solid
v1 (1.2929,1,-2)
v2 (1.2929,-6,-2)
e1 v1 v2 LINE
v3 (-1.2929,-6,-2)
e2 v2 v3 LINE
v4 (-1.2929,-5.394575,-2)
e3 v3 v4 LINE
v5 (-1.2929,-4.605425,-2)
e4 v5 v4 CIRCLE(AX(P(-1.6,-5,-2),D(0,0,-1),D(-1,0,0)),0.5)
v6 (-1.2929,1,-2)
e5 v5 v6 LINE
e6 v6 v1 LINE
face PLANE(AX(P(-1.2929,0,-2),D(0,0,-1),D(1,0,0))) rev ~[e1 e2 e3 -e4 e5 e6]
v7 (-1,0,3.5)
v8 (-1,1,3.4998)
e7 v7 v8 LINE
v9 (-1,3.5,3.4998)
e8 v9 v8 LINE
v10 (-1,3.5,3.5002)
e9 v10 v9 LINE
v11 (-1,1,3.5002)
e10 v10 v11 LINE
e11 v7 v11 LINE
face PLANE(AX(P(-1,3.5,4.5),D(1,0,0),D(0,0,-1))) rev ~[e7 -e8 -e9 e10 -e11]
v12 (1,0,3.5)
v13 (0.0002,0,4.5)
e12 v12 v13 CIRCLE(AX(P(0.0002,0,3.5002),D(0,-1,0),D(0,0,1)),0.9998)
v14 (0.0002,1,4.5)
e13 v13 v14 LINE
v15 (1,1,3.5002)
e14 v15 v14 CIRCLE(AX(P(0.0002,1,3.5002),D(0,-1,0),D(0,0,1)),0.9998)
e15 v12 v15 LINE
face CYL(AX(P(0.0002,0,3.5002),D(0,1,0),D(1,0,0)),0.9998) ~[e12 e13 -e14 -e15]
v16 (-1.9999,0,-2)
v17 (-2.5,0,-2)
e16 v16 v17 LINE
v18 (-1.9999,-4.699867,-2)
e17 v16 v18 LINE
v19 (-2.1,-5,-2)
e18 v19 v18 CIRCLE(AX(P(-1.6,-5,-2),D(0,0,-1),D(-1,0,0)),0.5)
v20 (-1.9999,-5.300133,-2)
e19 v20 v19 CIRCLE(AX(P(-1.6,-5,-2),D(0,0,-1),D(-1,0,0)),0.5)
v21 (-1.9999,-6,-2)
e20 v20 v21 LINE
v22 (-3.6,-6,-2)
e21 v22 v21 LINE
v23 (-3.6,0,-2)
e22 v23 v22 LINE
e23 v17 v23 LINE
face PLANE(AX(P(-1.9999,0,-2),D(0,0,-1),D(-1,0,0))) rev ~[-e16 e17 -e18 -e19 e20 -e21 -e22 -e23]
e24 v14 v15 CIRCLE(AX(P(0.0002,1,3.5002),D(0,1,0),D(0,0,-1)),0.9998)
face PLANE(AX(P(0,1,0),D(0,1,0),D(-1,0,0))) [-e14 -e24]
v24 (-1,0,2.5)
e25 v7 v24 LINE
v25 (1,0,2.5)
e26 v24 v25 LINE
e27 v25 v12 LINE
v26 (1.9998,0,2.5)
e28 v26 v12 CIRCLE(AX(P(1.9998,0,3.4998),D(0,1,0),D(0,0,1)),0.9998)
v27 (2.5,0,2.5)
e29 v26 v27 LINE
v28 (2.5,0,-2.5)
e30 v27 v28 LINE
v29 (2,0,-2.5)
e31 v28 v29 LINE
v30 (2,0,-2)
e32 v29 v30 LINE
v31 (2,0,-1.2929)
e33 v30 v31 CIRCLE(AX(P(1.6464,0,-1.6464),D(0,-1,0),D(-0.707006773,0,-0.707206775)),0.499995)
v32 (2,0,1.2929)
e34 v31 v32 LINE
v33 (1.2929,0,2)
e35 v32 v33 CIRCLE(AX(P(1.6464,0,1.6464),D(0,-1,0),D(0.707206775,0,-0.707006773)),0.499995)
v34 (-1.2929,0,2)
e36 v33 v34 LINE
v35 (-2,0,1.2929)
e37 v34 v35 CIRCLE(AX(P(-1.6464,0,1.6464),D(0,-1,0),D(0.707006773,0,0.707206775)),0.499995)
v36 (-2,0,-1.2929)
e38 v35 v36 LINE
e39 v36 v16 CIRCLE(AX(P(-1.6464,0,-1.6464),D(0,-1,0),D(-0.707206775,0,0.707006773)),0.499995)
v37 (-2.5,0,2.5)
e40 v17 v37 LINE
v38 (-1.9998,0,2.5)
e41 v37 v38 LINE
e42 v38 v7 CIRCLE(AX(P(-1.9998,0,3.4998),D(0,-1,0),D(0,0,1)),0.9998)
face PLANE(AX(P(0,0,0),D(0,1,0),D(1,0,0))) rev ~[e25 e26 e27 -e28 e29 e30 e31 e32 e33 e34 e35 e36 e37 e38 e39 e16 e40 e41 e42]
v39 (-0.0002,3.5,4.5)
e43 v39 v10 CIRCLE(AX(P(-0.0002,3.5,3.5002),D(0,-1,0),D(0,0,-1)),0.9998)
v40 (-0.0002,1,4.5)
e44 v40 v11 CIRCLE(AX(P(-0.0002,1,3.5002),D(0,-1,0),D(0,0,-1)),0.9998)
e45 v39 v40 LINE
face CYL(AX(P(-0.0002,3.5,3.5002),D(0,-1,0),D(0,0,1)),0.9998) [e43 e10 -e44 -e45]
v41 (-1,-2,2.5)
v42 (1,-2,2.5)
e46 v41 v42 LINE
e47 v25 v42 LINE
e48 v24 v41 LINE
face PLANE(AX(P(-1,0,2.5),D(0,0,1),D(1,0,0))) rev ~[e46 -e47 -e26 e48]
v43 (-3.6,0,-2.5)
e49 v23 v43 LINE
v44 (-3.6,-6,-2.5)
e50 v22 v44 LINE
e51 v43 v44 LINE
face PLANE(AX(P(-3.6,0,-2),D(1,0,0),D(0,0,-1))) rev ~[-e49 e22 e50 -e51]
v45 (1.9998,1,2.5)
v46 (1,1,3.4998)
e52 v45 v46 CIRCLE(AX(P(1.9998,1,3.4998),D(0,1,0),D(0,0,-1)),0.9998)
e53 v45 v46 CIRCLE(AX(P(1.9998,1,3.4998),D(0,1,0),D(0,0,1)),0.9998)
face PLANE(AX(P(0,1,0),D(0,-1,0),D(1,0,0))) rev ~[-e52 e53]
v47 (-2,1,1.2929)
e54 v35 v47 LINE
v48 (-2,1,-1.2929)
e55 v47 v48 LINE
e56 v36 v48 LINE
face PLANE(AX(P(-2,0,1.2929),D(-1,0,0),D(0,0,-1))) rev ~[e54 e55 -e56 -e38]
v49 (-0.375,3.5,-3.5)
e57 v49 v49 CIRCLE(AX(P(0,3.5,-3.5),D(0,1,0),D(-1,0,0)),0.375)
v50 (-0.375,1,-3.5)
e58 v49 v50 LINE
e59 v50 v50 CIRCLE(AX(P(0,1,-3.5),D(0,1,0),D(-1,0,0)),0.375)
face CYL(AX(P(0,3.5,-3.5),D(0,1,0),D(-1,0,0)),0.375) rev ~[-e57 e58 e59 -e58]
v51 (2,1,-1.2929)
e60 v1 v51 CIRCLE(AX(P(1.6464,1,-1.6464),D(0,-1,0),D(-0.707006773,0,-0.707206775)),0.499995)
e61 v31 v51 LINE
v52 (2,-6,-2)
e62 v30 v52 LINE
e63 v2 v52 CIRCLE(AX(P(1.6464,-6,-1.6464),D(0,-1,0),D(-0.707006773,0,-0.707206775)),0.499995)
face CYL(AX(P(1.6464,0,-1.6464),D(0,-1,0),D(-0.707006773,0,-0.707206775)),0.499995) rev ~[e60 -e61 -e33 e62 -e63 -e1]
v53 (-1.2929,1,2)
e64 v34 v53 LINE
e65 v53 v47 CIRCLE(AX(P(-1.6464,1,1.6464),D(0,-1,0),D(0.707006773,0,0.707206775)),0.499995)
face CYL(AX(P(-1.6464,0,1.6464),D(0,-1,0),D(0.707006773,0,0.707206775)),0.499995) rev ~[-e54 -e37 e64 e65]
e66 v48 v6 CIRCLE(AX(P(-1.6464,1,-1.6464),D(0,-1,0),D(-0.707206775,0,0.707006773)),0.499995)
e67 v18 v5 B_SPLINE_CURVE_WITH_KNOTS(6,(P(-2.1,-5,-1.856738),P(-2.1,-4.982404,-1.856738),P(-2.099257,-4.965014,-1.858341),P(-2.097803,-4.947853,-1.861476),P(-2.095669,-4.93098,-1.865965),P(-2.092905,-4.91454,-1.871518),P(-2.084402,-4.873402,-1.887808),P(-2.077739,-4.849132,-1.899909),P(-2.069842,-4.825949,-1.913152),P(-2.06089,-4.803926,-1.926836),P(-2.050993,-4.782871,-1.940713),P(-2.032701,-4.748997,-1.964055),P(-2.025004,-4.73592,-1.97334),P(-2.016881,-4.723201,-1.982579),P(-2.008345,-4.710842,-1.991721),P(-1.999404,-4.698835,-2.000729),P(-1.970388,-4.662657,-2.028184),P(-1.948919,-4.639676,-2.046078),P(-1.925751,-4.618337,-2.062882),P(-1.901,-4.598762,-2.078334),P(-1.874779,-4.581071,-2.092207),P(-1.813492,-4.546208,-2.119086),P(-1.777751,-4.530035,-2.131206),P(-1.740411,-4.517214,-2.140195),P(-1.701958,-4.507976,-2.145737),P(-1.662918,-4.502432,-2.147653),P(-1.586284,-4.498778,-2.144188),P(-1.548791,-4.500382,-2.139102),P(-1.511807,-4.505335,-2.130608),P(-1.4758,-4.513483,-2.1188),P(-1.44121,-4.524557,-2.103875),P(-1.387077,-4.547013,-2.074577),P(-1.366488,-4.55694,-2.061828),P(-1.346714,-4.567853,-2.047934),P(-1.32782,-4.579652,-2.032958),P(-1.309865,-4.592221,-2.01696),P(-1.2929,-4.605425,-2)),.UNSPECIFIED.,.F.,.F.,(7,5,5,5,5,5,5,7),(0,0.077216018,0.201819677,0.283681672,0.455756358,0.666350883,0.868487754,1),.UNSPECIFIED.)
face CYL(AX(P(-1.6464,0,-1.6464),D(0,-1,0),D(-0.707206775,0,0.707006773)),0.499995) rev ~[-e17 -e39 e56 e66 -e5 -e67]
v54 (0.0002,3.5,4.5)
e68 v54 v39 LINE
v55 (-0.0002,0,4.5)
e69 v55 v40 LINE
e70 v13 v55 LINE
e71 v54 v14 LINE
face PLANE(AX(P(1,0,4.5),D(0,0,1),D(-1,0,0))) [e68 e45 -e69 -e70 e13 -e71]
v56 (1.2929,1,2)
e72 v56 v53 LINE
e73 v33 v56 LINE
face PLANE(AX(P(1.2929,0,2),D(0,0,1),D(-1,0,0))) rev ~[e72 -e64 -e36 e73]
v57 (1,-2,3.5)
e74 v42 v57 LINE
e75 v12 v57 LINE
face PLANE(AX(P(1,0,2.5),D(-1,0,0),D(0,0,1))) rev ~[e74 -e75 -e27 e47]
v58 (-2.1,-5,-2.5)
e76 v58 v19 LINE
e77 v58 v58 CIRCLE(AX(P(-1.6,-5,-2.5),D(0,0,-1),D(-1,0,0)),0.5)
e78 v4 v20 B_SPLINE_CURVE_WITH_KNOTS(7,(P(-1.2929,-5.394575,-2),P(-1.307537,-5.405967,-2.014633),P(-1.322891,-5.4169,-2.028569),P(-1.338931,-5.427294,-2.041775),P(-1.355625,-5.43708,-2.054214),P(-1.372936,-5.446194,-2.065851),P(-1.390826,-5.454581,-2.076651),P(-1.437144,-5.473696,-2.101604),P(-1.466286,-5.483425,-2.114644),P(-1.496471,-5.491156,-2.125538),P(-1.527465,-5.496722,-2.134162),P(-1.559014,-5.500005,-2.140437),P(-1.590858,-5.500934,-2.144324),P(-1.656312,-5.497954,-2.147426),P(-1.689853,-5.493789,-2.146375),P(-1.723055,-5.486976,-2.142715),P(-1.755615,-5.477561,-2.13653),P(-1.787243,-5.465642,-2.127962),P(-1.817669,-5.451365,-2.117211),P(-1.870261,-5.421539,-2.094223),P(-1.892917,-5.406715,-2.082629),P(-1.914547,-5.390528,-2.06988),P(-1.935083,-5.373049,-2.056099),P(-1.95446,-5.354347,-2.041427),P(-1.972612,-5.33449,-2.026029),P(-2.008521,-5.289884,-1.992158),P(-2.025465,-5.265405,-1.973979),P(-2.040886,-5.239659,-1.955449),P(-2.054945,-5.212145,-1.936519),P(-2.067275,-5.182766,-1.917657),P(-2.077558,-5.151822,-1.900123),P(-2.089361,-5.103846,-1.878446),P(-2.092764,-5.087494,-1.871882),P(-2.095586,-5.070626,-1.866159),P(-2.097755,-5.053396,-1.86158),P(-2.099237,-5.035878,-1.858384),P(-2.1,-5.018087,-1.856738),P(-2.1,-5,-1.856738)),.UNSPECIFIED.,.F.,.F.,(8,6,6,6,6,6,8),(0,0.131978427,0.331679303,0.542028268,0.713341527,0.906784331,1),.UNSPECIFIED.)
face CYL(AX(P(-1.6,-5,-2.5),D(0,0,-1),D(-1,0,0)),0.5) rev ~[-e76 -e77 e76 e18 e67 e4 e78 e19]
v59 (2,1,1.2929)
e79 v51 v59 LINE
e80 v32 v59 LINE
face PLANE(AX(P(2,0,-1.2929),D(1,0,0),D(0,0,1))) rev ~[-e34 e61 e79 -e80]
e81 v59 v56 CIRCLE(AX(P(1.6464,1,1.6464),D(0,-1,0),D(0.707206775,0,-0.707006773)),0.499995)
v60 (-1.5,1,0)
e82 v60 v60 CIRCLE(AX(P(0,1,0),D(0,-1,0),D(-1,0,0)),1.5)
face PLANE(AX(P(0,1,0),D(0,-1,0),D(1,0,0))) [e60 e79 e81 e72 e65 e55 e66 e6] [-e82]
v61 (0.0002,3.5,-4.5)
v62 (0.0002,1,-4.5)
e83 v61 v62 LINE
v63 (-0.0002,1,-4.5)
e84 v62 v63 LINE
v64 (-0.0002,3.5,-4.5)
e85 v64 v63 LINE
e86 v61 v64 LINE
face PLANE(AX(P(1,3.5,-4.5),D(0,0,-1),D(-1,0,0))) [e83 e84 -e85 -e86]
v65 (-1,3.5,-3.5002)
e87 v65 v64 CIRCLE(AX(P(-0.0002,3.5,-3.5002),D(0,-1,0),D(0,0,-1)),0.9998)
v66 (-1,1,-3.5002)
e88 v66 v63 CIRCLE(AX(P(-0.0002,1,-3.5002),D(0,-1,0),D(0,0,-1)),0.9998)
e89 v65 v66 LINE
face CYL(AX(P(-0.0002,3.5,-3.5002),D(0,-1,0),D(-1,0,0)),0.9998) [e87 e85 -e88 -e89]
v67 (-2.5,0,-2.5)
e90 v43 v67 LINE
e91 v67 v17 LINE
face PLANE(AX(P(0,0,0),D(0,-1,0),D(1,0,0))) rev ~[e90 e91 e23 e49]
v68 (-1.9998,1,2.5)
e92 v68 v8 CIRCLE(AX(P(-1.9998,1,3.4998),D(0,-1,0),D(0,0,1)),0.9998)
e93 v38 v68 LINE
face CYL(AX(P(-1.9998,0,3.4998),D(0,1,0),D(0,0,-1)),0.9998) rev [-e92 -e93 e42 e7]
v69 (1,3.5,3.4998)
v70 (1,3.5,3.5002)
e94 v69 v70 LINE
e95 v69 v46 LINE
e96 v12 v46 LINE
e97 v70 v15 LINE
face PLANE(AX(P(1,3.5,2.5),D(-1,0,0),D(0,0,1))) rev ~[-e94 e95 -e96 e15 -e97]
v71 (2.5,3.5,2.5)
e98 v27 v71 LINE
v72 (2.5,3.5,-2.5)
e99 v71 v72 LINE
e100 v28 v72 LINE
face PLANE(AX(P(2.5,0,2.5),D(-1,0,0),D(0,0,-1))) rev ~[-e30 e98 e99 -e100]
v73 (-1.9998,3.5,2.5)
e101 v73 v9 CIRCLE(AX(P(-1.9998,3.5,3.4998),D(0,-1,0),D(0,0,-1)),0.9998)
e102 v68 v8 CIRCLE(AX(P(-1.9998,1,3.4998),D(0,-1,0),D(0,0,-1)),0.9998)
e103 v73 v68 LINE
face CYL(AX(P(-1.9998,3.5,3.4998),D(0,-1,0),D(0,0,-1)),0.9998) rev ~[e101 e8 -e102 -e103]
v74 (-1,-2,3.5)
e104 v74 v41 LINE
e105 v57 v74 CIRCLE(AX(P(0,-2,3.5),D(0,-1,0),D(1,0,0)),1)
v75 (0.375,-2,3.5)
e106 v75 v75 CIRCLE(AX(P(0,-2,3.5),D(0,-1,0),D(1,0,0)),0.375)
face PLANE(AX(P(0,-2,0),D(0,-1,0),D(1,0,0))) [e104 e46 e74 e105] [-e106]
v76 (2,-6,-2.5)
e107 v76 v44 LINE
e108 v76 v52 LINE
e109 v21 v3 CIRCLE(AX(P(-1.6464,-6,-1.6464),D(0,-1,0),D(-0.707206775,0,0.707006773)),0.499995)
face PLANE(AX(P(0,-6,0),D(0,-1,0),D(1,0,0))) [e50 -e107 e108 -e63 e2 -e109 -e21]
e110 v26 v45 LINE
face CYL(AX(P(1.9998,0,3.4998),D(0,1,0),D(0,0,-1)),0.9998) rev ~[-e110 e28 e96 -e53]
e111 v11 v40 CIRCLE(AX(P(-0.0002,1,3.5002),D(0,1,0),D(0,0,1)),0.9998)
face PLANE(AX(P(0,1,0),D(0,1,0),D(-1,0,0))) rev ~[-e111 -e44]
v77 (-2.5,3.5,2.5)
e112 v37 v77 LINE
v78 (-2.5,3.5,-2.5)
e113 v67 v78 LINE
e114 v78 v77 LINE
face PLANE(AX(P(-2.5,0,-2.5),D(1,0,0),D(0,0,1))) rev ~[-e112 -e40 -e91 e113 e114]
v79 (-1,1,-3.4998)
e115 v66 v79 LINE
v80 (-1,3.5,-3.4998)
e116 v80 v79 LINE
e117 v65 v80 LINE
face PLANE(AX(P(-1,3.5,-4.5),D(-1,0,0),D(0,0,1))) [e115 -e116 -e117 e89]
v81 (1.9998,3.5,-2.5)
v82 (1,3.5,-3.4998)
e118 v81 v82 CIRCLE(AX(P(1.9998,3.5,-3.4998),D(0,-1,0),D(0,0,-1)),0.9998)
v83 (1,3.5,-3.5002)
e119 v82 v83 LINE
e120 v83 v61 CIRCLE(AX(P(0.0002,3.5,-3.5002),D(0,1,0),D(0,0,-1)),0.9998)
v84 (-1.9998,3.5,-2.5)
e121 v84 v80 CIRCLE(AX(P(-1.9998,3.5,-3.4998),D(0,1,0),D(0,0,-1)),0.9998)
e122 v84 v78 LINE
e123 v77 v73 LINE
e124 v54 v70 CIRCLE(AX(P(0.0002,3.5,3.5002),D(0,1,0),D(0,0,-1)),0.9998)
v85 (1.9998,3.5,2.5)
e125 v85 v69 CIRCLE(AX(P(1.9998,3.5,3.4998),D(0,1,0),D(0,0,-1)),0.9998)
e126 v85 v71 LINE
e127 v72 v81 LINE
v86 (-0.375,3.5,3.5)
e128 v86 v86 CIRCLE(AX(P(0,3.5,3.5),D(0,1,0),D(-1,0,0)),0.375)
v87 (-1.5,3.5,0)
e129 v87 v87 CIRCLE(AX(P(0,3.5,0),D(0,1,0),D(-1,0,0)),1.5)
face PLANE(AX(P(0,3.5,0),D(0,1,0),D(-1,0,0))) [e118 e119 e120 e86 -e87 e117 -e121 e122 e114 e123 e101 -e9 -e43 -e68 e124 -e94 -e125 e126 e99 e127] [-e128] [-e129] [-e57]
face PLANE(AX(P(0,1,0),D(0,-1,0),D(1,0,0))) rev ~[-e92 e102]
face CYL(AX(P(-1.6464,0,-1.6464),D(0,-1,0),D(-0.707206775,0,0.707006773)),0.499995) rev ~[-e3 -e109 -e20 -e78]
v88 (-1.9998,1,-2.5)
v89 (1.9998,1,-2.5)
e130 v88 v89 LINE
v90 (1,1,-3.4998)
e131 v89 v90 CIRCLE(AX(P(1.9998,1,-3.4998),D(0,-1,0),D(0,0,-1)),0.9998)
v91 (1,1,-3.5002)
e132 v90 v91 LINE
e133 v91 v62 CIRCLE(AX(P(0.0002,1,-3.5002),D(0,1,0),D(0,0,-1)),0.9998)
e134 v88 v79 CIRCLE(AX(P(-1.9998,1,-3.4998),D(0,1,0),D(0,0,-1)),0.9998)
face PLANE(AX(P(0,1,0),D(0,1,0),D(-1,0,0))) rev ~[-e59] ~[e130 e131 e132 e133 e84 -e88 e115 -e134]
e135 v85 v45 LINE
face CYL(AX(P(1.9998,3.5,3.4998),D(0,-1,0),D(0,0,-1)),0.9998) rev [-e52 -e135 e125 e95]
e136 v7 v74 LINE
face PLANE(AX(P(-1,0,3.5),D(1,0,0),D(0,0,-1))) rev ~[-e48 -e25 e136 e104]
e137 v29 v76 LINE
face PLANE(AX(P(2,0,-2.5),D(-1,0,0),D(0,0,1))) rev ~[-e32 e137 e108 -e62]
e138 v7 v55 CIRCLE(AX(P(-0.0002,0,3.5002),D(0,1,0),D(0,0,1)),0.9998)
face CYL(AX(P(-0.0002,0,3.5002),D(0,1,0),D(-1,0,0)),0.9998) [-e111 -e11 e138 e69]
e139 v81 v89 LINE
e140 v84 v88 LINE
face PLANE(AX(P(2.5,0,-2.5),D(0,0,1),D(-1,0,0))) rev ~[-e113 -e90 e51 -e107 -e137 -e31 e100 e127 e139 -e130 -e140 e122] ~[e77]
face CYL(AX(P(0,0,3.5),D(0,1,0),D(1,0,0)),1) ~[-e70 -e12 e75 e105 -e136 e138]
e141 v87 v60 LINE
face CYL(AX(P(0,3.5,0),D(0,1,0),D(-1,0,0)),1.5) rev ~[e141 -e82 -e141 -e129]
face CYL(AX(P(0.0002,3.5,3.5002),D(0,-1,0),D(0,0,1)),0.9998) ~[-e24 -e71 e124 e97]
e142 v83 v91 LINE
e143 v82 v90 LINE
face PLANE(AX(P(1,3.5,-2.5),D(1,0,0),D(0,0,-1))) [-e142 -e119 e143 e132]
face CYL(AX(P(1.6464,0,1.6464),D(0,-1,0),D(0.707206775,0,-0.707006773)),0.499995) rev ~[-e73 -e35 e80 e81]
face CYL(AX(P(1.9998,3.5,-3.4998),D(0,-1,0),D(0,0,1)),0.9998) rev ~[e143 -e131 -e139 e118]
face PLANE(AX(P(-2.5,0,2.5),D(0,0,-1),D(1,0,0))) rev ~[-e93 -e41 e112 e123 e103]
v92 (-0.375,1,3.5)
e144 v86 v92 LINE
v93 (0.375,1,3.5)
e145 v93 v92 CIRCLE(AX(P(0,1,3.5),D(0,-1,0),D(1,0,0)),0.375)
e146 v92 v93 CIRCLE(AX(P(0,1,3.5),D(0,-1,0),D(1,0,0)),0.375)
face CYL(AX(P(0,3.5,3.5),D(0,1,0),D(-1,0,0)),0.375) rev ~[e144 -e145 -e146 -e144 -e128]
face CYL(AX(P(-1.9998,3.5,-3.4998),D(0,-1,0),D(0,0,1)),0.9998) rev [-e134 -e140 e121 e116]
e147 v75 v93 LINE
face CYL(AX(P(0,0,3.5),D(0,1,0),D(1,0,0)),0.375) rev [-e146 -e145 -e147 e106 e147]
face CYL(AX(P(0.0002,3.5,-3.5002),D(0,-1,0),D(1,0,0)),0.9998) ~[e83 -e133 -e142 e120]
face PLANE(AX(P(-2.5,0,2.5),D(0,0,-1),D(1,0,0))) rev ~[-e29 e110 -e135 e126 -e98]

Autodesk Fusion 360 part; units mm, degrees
sketch "Sketch1" plane through (0, 0, 0) normal (0, 1, 0) x (1, 0, 0)
  line L0 (-1.75, -2.5) -> (1.75, -2.5)
  line L1 (1.75, -2.5) -> (1.75, 2.5)
  line L2 (1.75, 2.5) -> (-1.75, 2.5)
  line L3 (-1.75, 2.5) -> (-1.75, -2.5)
  line L4 (-1.75, -2.5) -> (1.75, 2.5) construction
  line L5 (1.75, -2.5) -> (-1.75, 2.5) construction
  dimension "d1" = 5
  dimension "d2" = 3.5
sketch "Sketch2" plane through (0, 0, 0) normal (0, 1, 0) x (1, 0, 0)
  line L0 (-2.5, -2.5) -> (2.5, -2.5)
  line L1 (2.5, -2.5) -> (2.5, 2.5)
  line L2 (2.5, 2.5) -> (-2.5, 2.5)
  line L3 (-2.5, 2.5) -> (-2.5, -2.5)
  line L4 (-2.5, -2.5) -> (2.5, 2.5) construction
  line L5 (2.5, -2.5) -> (-2.5, 2.5) construction
  dimension "d5" = 5
  dimension "d6" = 5
extrude "Extrude2" add sketch "Sketch2" along normal blind 3.5
sketch "Sketch3" plane through (0, 3.5, 0) normal (0, 1, 0) x (-1, 0, 0)
  line L0 (2.5, -2.5) -> (2.5, 2.5)
  line L1 (2.5, 2.5) -> (-2.5, 2.5)
  line L2 (-2.5, 2.5) -> (-2.5, -2.5)
  line L3 (-2.5, -2.5) -> (2.5, -2.5)
  circle A0 centre (0, 0) radius 1.5
  dimension "d9" = 3
extrude "Extrude3" cut sketch "Sketch3" against normal blind 5 contours A0
sketch "Sketch4" plane through (0, 0, 0) normal (0, -1, 0) x (1, 0, 0)
  circle A0 centre (0, 0) radius 1.5
  line L0 (-2.5, 2.5) -> (-2.5, -2.5)
  line L1 (-2.5, -2.5) -> (2.5, -2.5)
  line L2 (2.5, -2.5) -> (2.5, 2.5)
  line L3 (2.5, 2.5) -> (-2.5, 2.5)
  line L4 (-1.2929, -2) -> (1.2929, -2)
  line L5 (2, -1.2929) -> (2, 1.2929)
  line L6 (1.2929, 2) -> (-1.2929, 2)
  line L7 (-2, 1.2929) -> (-2, -1.2929)
  line L8 (-2, -2) -> (2, 2) construction
  line L9 (2, -2) -> (-2, 2) construction
  arc A1 (-1.2929, 2) -> (-2, 1.2929) centre (-1.6464, 1.6464) ccw
  arc A2 (-2, -1.2929) -> (-1.2929, -2) centre (-1.6464, -1.6464) ccw
  arc A3 (1.2929, -2) -> (2, -1.2929) centre (1.6464, -1.6464) ccw
  arc A4 (2, 1.2929) -> (1.2929, 2) centre (1.6464, 1.6464) ccw
  point P0 (-2, -2)
  point P1 (2, -2)
  point P2 (2, 2)
  dimension "d12" = 4
  dimension "d13" = 4
  dimension "d14" = 1
extrude "Extrude4" cut sketch "Sketch4" against normal blind 1 contours L4 L5 L6 L7 A1 A2 A3 A4
sketch "Sketch5" plane through (0, 0, 0) normal (0, -1, 0) x (1, 0, 0)
  line L0 (-1.2929, 2) -> (1.2929, 2)
  arc A0 (2, 1.2929) -> (1.2929, 2) centre (1.6464, 1.6464) ccw
  line L1 (2, 1.2929) -> (2, -1.2929)
  arc A1 (1.2929, -2) -> (2, -1.2929) centre (1.6464, -1.6464) ccw
  line L2 (1.2929, -2) -> (-1.2929, -2)
  arc A2 (-2, -1.2929) -> (-1.2929, -2) centre (-1.6464, -1.6464) ccw
  line L3 (-2, -1.2929) -> (-2, 1.2929)
  arc A3 (-1.2929, 2) -> (-2, 1.2929) centre (-1.6464, 1.6464) ccw
  line L4 (-2.5, 2.5) -> (-2.5, -2.5)
  line L5 (-2.5, -2.5) -> (2.5, -2.5)
  line L6 (2.5, -2.5) -> (2.5, 2.5)
  line L7 (2.5, 2.5) -> (-2.5, 2.5)
  line L8 (1, 2.5) -> (1, 4.5)
  line L9 (1, 4.5) -> (-1, 4.5)
  line L10 (-1, 4.5) -> (-1, 2.5)
  line L11 (-1, 2.5) -> (1, 4.5) construction
  line L12 (1, 2.5) -> (-1, 4.5) construction
  line L13 (0, 0) -> (0, 3.5) construction
  circle A4 centre (0, 3.5) radius 0.375
  point P0 (0, 3.5)
  dimension "d19" = 2
  dimension "d20" = 2
  dimension "d23" = 0.75
extrude "Extrude5" add sketch "Sketch5" against normal blind 1 contours L7 L8 L9 L10
fillet "Fillet1" radius 1 4 edges at (1, 0.5, 4.5) (1, 0.5, 2.5) (-1, 0.5, 4.5) (-1, 0.5, 2.5)
sketch "Sketch6" plane through (0, 0, 0) normal (0, -1, 0) x (1, 0, 0)
  arc A0 (1, 3.5) -> (-1, 3.5) centre (0, 3.5) ccw
  arc A1 (-2, 2.5) -> (-1, 3.5) centre (-2, 3.5) ccw
  line L0 (-2, 2.5) -> (-2.5, 2.5)
  line L1 (-2.5, 2.5) -> (-2.5, -2.5)
  line L2 (-2.5, -2.5) -> (2.5, -2.5)
  line L3 (2.5, -2.5) -> (2.5, 2.5)
  line L4 (2.5, 2.5) -> (2, 2.5)
  arc A2 (1, 3.5) -> (2, 2.5) centre (2, 3.5) ccw
  circle A3 centre (0, 3.5) radius 0.375
  line L5 (-1.2929, 2) -> (1.2929, 2)
  arc A4 (2, 1.2929) -> (1.2929, 2) centre (1.6464, 1.6464) ccw
  line L6 (2, 1.2929) -> (2, -1.2929)
  arc A5 (1.2929, -2) -> (2, -1.2929) centre (1.6464, -1.6464) ccw
  line L7 (1.2929, -2) -> (-1.2929, -2)
  arc A6 (-2, -1.2929) -> (-1.2929, -2) centre (-1.6464, -1.6464) ccw
  line L8 (-2, -1.2929) -> (-2, 1.2929)
  arc A7 (-1.2929, 2) -> (-2, 1.2929) centre (-1.6464, 1.6464) ccw
  line L9 (-3.6, -2.5) -> (2, -2.5)
  line L10 (2, -2.5) -> (2, -2)
  line L11 (2, -2) -> (-3.6, -2)
  line L12 (-3.6, -2) -> (-3.6, -2.5)
  dimension "d25" = 0.5
  dimension "d30" = 0.5
  dimension "d31" = 1.1
extrude "Extrude6" add sketch "Sketch6" along normal blind 6 contours L1 L2 A5 L7 A6 L9 L10 L11 | L1 L9 L11 L12
sketch "Sketch7" plane through (0, 0, -2.5) normal (0, 0, -1) x (-1, 0, 0)
  line L0 (-2.5, 0) -> (-2, 0)
  line L1 (-2, 0) -> (-2, -6)
  line L2 (-2, -6) -> (3.6, -6)
  line L3 (3.6, -6) -> (3.6, 0)
  line L4 (3.6, 0) -> (2.5, 0)
  line L5 (2.5, 0) -> (2.5, 3.5)
  line L6 (2.5, 3.5) -> (-2.5, 3.5)
  line L7 (-2.5, 3.5) -> (-2.5, 0)
  circle A0 centre (1.6, -5) radius 0.5
  dimension "d35" = 1
  dimension "d37" = 2
  dimension "d38" = 1
extrude "Extrude7" cut sketch "Sketch7" against normal blind 1 contours A0
sketch "Sketch9" plane through (0, 0, 0) normal (0, -1, 0) x (1, 0, 0)
  line L0 (2, -2) -> (2, -2.5)
  line L1 (2, -2.5) -> (2.5, -2.5)
  line L2 (2.5, -2.5) -> (2.5, 2.5)
  line L3 (2.5, 2.5) -> (2, 2.5)
  arc A0 (1, 3.5) -> (2, 2.5) centre (2, 3.5) ccw
  arc A1 (1, 3.5) -> (-1, 3.5) centre (0, 3.5) ccw
  arc A2 (-2, 2.5) -> (-1, 3.5) centre (-2, 3.5) ccw
  line L4 (-2, 2.5) -> (-2.5, 2.5)
  line L5 (-2.5, 2.5) -> (-2.5, -2)
  line L6 (-2.5, -2) -> (-2, -2)
  arc A3 (-2, -1.2929) -> (-2, -2) centre (-1.6464, -1.6464) ccw
  line L7 (-2, -1.2929) -> (-2, 1.2929)
  arc A4 (-1.2929, 2) -> (-2, 1.2929) centre (-1.6464, 1.6464) ccw
  line L8 (-1.2929, 2) -> (1.2929, 2)
  arc A5 (2, 1.2929) -> (1.2929, 2) centre (1.6464, 1.6464) ccw
  line L9 (2, 1.2929) -> (2, -1.2929)
  arc A6 (2, -2) -> (2, -1.2929) centre (1.6464, -1.6464) ccw
  circle A7 centre (0, 3.5) radius 0.375
  line L10 (-1, 3.5) -> (-1, 2.5)
  line L11 (-1, 2.5) -> (1, 2.5)
  line L12 (1, 2.5) -> (1, 3.5)
extrude "Extrude9" add sketch "Sketch9" along normal blind 2 contours A1 L10 L11 L12
sketch "Sketch10" plane through (0, 3.5, 0) normal (0, 1, 0) x (-1, 0, 0)
  circle A0 centre (0, 0) radius 1.5
  line L0 (2.5, -2.5) -> (2.5, 2.5)
  line L1 (2.5, 2.5) -> (-2.5, 2.5)
  line L2 (-2.5, 2.5) -> (-2.5, -2.5)
  line L3 (-2.5, -2.5) -> (2.5, -2.5)
  line L4 (1, -2.5) -> (-1, -2.5)
  line L5 (-1, -2.5) -> (-1, -4.5)
  line L6 (-1, -4.5) -> (1, -4.5)
  line L7 (1, -4.5) -> (1, -2.5)
  line L8 (1, -2.5) -> (-1, -4.5) construction
  line L9 (-1, -2.5) -> (1, -4.5) construction
  line L10 (1, 2.5) -> (-1, 2.5)
  line L11 (-1, 2.5) -> (-1, 4.5)
  line L12 (-1, 4.5) -> (1, 4.5)
  line L13 (1, 4.5) -> (1, 2.5)
  line L14 (1, 2.5) -> (-1, 4.5) construction
  line L15 (-1, 2.5) -> (1, 4.5) construction
  line L16 (0, 0) -> (0, -3.5) construction
  line L17 (0, 0) -> (0, 3.5) construction
  circle A1 centre (0, -3.5) radius 0.375
  circle A2 centre (0, 3.5) radius 0.375
  point P0 (0, -3.5)
  point P1 (0, 3.5)
  dimension "d49" = 2
  dimension "d50" = 2
  dimension "d51" = 2
  dimension "d52" = 2
  dimension "d53" = 0.75
  dimension "d54" = 0.75
extrude "Extrude10" add sketch "Sketch10" against normal blind 2.5 contours L3 L4 L5 L6 L7 | L1 L10 L11 L12 L13
fillet "Fillet2" radius 1 8 edges at (1, 2.25, 4.5) (-1, 2.25, 4.5) (-1, 2.25, 2.5) (-1, 2.25, -4.5) (-1, 2.25, -2.5) (1, 2.25, -4.5) (1, 2.25, -2.5) (1, 2.25, 2.5)
